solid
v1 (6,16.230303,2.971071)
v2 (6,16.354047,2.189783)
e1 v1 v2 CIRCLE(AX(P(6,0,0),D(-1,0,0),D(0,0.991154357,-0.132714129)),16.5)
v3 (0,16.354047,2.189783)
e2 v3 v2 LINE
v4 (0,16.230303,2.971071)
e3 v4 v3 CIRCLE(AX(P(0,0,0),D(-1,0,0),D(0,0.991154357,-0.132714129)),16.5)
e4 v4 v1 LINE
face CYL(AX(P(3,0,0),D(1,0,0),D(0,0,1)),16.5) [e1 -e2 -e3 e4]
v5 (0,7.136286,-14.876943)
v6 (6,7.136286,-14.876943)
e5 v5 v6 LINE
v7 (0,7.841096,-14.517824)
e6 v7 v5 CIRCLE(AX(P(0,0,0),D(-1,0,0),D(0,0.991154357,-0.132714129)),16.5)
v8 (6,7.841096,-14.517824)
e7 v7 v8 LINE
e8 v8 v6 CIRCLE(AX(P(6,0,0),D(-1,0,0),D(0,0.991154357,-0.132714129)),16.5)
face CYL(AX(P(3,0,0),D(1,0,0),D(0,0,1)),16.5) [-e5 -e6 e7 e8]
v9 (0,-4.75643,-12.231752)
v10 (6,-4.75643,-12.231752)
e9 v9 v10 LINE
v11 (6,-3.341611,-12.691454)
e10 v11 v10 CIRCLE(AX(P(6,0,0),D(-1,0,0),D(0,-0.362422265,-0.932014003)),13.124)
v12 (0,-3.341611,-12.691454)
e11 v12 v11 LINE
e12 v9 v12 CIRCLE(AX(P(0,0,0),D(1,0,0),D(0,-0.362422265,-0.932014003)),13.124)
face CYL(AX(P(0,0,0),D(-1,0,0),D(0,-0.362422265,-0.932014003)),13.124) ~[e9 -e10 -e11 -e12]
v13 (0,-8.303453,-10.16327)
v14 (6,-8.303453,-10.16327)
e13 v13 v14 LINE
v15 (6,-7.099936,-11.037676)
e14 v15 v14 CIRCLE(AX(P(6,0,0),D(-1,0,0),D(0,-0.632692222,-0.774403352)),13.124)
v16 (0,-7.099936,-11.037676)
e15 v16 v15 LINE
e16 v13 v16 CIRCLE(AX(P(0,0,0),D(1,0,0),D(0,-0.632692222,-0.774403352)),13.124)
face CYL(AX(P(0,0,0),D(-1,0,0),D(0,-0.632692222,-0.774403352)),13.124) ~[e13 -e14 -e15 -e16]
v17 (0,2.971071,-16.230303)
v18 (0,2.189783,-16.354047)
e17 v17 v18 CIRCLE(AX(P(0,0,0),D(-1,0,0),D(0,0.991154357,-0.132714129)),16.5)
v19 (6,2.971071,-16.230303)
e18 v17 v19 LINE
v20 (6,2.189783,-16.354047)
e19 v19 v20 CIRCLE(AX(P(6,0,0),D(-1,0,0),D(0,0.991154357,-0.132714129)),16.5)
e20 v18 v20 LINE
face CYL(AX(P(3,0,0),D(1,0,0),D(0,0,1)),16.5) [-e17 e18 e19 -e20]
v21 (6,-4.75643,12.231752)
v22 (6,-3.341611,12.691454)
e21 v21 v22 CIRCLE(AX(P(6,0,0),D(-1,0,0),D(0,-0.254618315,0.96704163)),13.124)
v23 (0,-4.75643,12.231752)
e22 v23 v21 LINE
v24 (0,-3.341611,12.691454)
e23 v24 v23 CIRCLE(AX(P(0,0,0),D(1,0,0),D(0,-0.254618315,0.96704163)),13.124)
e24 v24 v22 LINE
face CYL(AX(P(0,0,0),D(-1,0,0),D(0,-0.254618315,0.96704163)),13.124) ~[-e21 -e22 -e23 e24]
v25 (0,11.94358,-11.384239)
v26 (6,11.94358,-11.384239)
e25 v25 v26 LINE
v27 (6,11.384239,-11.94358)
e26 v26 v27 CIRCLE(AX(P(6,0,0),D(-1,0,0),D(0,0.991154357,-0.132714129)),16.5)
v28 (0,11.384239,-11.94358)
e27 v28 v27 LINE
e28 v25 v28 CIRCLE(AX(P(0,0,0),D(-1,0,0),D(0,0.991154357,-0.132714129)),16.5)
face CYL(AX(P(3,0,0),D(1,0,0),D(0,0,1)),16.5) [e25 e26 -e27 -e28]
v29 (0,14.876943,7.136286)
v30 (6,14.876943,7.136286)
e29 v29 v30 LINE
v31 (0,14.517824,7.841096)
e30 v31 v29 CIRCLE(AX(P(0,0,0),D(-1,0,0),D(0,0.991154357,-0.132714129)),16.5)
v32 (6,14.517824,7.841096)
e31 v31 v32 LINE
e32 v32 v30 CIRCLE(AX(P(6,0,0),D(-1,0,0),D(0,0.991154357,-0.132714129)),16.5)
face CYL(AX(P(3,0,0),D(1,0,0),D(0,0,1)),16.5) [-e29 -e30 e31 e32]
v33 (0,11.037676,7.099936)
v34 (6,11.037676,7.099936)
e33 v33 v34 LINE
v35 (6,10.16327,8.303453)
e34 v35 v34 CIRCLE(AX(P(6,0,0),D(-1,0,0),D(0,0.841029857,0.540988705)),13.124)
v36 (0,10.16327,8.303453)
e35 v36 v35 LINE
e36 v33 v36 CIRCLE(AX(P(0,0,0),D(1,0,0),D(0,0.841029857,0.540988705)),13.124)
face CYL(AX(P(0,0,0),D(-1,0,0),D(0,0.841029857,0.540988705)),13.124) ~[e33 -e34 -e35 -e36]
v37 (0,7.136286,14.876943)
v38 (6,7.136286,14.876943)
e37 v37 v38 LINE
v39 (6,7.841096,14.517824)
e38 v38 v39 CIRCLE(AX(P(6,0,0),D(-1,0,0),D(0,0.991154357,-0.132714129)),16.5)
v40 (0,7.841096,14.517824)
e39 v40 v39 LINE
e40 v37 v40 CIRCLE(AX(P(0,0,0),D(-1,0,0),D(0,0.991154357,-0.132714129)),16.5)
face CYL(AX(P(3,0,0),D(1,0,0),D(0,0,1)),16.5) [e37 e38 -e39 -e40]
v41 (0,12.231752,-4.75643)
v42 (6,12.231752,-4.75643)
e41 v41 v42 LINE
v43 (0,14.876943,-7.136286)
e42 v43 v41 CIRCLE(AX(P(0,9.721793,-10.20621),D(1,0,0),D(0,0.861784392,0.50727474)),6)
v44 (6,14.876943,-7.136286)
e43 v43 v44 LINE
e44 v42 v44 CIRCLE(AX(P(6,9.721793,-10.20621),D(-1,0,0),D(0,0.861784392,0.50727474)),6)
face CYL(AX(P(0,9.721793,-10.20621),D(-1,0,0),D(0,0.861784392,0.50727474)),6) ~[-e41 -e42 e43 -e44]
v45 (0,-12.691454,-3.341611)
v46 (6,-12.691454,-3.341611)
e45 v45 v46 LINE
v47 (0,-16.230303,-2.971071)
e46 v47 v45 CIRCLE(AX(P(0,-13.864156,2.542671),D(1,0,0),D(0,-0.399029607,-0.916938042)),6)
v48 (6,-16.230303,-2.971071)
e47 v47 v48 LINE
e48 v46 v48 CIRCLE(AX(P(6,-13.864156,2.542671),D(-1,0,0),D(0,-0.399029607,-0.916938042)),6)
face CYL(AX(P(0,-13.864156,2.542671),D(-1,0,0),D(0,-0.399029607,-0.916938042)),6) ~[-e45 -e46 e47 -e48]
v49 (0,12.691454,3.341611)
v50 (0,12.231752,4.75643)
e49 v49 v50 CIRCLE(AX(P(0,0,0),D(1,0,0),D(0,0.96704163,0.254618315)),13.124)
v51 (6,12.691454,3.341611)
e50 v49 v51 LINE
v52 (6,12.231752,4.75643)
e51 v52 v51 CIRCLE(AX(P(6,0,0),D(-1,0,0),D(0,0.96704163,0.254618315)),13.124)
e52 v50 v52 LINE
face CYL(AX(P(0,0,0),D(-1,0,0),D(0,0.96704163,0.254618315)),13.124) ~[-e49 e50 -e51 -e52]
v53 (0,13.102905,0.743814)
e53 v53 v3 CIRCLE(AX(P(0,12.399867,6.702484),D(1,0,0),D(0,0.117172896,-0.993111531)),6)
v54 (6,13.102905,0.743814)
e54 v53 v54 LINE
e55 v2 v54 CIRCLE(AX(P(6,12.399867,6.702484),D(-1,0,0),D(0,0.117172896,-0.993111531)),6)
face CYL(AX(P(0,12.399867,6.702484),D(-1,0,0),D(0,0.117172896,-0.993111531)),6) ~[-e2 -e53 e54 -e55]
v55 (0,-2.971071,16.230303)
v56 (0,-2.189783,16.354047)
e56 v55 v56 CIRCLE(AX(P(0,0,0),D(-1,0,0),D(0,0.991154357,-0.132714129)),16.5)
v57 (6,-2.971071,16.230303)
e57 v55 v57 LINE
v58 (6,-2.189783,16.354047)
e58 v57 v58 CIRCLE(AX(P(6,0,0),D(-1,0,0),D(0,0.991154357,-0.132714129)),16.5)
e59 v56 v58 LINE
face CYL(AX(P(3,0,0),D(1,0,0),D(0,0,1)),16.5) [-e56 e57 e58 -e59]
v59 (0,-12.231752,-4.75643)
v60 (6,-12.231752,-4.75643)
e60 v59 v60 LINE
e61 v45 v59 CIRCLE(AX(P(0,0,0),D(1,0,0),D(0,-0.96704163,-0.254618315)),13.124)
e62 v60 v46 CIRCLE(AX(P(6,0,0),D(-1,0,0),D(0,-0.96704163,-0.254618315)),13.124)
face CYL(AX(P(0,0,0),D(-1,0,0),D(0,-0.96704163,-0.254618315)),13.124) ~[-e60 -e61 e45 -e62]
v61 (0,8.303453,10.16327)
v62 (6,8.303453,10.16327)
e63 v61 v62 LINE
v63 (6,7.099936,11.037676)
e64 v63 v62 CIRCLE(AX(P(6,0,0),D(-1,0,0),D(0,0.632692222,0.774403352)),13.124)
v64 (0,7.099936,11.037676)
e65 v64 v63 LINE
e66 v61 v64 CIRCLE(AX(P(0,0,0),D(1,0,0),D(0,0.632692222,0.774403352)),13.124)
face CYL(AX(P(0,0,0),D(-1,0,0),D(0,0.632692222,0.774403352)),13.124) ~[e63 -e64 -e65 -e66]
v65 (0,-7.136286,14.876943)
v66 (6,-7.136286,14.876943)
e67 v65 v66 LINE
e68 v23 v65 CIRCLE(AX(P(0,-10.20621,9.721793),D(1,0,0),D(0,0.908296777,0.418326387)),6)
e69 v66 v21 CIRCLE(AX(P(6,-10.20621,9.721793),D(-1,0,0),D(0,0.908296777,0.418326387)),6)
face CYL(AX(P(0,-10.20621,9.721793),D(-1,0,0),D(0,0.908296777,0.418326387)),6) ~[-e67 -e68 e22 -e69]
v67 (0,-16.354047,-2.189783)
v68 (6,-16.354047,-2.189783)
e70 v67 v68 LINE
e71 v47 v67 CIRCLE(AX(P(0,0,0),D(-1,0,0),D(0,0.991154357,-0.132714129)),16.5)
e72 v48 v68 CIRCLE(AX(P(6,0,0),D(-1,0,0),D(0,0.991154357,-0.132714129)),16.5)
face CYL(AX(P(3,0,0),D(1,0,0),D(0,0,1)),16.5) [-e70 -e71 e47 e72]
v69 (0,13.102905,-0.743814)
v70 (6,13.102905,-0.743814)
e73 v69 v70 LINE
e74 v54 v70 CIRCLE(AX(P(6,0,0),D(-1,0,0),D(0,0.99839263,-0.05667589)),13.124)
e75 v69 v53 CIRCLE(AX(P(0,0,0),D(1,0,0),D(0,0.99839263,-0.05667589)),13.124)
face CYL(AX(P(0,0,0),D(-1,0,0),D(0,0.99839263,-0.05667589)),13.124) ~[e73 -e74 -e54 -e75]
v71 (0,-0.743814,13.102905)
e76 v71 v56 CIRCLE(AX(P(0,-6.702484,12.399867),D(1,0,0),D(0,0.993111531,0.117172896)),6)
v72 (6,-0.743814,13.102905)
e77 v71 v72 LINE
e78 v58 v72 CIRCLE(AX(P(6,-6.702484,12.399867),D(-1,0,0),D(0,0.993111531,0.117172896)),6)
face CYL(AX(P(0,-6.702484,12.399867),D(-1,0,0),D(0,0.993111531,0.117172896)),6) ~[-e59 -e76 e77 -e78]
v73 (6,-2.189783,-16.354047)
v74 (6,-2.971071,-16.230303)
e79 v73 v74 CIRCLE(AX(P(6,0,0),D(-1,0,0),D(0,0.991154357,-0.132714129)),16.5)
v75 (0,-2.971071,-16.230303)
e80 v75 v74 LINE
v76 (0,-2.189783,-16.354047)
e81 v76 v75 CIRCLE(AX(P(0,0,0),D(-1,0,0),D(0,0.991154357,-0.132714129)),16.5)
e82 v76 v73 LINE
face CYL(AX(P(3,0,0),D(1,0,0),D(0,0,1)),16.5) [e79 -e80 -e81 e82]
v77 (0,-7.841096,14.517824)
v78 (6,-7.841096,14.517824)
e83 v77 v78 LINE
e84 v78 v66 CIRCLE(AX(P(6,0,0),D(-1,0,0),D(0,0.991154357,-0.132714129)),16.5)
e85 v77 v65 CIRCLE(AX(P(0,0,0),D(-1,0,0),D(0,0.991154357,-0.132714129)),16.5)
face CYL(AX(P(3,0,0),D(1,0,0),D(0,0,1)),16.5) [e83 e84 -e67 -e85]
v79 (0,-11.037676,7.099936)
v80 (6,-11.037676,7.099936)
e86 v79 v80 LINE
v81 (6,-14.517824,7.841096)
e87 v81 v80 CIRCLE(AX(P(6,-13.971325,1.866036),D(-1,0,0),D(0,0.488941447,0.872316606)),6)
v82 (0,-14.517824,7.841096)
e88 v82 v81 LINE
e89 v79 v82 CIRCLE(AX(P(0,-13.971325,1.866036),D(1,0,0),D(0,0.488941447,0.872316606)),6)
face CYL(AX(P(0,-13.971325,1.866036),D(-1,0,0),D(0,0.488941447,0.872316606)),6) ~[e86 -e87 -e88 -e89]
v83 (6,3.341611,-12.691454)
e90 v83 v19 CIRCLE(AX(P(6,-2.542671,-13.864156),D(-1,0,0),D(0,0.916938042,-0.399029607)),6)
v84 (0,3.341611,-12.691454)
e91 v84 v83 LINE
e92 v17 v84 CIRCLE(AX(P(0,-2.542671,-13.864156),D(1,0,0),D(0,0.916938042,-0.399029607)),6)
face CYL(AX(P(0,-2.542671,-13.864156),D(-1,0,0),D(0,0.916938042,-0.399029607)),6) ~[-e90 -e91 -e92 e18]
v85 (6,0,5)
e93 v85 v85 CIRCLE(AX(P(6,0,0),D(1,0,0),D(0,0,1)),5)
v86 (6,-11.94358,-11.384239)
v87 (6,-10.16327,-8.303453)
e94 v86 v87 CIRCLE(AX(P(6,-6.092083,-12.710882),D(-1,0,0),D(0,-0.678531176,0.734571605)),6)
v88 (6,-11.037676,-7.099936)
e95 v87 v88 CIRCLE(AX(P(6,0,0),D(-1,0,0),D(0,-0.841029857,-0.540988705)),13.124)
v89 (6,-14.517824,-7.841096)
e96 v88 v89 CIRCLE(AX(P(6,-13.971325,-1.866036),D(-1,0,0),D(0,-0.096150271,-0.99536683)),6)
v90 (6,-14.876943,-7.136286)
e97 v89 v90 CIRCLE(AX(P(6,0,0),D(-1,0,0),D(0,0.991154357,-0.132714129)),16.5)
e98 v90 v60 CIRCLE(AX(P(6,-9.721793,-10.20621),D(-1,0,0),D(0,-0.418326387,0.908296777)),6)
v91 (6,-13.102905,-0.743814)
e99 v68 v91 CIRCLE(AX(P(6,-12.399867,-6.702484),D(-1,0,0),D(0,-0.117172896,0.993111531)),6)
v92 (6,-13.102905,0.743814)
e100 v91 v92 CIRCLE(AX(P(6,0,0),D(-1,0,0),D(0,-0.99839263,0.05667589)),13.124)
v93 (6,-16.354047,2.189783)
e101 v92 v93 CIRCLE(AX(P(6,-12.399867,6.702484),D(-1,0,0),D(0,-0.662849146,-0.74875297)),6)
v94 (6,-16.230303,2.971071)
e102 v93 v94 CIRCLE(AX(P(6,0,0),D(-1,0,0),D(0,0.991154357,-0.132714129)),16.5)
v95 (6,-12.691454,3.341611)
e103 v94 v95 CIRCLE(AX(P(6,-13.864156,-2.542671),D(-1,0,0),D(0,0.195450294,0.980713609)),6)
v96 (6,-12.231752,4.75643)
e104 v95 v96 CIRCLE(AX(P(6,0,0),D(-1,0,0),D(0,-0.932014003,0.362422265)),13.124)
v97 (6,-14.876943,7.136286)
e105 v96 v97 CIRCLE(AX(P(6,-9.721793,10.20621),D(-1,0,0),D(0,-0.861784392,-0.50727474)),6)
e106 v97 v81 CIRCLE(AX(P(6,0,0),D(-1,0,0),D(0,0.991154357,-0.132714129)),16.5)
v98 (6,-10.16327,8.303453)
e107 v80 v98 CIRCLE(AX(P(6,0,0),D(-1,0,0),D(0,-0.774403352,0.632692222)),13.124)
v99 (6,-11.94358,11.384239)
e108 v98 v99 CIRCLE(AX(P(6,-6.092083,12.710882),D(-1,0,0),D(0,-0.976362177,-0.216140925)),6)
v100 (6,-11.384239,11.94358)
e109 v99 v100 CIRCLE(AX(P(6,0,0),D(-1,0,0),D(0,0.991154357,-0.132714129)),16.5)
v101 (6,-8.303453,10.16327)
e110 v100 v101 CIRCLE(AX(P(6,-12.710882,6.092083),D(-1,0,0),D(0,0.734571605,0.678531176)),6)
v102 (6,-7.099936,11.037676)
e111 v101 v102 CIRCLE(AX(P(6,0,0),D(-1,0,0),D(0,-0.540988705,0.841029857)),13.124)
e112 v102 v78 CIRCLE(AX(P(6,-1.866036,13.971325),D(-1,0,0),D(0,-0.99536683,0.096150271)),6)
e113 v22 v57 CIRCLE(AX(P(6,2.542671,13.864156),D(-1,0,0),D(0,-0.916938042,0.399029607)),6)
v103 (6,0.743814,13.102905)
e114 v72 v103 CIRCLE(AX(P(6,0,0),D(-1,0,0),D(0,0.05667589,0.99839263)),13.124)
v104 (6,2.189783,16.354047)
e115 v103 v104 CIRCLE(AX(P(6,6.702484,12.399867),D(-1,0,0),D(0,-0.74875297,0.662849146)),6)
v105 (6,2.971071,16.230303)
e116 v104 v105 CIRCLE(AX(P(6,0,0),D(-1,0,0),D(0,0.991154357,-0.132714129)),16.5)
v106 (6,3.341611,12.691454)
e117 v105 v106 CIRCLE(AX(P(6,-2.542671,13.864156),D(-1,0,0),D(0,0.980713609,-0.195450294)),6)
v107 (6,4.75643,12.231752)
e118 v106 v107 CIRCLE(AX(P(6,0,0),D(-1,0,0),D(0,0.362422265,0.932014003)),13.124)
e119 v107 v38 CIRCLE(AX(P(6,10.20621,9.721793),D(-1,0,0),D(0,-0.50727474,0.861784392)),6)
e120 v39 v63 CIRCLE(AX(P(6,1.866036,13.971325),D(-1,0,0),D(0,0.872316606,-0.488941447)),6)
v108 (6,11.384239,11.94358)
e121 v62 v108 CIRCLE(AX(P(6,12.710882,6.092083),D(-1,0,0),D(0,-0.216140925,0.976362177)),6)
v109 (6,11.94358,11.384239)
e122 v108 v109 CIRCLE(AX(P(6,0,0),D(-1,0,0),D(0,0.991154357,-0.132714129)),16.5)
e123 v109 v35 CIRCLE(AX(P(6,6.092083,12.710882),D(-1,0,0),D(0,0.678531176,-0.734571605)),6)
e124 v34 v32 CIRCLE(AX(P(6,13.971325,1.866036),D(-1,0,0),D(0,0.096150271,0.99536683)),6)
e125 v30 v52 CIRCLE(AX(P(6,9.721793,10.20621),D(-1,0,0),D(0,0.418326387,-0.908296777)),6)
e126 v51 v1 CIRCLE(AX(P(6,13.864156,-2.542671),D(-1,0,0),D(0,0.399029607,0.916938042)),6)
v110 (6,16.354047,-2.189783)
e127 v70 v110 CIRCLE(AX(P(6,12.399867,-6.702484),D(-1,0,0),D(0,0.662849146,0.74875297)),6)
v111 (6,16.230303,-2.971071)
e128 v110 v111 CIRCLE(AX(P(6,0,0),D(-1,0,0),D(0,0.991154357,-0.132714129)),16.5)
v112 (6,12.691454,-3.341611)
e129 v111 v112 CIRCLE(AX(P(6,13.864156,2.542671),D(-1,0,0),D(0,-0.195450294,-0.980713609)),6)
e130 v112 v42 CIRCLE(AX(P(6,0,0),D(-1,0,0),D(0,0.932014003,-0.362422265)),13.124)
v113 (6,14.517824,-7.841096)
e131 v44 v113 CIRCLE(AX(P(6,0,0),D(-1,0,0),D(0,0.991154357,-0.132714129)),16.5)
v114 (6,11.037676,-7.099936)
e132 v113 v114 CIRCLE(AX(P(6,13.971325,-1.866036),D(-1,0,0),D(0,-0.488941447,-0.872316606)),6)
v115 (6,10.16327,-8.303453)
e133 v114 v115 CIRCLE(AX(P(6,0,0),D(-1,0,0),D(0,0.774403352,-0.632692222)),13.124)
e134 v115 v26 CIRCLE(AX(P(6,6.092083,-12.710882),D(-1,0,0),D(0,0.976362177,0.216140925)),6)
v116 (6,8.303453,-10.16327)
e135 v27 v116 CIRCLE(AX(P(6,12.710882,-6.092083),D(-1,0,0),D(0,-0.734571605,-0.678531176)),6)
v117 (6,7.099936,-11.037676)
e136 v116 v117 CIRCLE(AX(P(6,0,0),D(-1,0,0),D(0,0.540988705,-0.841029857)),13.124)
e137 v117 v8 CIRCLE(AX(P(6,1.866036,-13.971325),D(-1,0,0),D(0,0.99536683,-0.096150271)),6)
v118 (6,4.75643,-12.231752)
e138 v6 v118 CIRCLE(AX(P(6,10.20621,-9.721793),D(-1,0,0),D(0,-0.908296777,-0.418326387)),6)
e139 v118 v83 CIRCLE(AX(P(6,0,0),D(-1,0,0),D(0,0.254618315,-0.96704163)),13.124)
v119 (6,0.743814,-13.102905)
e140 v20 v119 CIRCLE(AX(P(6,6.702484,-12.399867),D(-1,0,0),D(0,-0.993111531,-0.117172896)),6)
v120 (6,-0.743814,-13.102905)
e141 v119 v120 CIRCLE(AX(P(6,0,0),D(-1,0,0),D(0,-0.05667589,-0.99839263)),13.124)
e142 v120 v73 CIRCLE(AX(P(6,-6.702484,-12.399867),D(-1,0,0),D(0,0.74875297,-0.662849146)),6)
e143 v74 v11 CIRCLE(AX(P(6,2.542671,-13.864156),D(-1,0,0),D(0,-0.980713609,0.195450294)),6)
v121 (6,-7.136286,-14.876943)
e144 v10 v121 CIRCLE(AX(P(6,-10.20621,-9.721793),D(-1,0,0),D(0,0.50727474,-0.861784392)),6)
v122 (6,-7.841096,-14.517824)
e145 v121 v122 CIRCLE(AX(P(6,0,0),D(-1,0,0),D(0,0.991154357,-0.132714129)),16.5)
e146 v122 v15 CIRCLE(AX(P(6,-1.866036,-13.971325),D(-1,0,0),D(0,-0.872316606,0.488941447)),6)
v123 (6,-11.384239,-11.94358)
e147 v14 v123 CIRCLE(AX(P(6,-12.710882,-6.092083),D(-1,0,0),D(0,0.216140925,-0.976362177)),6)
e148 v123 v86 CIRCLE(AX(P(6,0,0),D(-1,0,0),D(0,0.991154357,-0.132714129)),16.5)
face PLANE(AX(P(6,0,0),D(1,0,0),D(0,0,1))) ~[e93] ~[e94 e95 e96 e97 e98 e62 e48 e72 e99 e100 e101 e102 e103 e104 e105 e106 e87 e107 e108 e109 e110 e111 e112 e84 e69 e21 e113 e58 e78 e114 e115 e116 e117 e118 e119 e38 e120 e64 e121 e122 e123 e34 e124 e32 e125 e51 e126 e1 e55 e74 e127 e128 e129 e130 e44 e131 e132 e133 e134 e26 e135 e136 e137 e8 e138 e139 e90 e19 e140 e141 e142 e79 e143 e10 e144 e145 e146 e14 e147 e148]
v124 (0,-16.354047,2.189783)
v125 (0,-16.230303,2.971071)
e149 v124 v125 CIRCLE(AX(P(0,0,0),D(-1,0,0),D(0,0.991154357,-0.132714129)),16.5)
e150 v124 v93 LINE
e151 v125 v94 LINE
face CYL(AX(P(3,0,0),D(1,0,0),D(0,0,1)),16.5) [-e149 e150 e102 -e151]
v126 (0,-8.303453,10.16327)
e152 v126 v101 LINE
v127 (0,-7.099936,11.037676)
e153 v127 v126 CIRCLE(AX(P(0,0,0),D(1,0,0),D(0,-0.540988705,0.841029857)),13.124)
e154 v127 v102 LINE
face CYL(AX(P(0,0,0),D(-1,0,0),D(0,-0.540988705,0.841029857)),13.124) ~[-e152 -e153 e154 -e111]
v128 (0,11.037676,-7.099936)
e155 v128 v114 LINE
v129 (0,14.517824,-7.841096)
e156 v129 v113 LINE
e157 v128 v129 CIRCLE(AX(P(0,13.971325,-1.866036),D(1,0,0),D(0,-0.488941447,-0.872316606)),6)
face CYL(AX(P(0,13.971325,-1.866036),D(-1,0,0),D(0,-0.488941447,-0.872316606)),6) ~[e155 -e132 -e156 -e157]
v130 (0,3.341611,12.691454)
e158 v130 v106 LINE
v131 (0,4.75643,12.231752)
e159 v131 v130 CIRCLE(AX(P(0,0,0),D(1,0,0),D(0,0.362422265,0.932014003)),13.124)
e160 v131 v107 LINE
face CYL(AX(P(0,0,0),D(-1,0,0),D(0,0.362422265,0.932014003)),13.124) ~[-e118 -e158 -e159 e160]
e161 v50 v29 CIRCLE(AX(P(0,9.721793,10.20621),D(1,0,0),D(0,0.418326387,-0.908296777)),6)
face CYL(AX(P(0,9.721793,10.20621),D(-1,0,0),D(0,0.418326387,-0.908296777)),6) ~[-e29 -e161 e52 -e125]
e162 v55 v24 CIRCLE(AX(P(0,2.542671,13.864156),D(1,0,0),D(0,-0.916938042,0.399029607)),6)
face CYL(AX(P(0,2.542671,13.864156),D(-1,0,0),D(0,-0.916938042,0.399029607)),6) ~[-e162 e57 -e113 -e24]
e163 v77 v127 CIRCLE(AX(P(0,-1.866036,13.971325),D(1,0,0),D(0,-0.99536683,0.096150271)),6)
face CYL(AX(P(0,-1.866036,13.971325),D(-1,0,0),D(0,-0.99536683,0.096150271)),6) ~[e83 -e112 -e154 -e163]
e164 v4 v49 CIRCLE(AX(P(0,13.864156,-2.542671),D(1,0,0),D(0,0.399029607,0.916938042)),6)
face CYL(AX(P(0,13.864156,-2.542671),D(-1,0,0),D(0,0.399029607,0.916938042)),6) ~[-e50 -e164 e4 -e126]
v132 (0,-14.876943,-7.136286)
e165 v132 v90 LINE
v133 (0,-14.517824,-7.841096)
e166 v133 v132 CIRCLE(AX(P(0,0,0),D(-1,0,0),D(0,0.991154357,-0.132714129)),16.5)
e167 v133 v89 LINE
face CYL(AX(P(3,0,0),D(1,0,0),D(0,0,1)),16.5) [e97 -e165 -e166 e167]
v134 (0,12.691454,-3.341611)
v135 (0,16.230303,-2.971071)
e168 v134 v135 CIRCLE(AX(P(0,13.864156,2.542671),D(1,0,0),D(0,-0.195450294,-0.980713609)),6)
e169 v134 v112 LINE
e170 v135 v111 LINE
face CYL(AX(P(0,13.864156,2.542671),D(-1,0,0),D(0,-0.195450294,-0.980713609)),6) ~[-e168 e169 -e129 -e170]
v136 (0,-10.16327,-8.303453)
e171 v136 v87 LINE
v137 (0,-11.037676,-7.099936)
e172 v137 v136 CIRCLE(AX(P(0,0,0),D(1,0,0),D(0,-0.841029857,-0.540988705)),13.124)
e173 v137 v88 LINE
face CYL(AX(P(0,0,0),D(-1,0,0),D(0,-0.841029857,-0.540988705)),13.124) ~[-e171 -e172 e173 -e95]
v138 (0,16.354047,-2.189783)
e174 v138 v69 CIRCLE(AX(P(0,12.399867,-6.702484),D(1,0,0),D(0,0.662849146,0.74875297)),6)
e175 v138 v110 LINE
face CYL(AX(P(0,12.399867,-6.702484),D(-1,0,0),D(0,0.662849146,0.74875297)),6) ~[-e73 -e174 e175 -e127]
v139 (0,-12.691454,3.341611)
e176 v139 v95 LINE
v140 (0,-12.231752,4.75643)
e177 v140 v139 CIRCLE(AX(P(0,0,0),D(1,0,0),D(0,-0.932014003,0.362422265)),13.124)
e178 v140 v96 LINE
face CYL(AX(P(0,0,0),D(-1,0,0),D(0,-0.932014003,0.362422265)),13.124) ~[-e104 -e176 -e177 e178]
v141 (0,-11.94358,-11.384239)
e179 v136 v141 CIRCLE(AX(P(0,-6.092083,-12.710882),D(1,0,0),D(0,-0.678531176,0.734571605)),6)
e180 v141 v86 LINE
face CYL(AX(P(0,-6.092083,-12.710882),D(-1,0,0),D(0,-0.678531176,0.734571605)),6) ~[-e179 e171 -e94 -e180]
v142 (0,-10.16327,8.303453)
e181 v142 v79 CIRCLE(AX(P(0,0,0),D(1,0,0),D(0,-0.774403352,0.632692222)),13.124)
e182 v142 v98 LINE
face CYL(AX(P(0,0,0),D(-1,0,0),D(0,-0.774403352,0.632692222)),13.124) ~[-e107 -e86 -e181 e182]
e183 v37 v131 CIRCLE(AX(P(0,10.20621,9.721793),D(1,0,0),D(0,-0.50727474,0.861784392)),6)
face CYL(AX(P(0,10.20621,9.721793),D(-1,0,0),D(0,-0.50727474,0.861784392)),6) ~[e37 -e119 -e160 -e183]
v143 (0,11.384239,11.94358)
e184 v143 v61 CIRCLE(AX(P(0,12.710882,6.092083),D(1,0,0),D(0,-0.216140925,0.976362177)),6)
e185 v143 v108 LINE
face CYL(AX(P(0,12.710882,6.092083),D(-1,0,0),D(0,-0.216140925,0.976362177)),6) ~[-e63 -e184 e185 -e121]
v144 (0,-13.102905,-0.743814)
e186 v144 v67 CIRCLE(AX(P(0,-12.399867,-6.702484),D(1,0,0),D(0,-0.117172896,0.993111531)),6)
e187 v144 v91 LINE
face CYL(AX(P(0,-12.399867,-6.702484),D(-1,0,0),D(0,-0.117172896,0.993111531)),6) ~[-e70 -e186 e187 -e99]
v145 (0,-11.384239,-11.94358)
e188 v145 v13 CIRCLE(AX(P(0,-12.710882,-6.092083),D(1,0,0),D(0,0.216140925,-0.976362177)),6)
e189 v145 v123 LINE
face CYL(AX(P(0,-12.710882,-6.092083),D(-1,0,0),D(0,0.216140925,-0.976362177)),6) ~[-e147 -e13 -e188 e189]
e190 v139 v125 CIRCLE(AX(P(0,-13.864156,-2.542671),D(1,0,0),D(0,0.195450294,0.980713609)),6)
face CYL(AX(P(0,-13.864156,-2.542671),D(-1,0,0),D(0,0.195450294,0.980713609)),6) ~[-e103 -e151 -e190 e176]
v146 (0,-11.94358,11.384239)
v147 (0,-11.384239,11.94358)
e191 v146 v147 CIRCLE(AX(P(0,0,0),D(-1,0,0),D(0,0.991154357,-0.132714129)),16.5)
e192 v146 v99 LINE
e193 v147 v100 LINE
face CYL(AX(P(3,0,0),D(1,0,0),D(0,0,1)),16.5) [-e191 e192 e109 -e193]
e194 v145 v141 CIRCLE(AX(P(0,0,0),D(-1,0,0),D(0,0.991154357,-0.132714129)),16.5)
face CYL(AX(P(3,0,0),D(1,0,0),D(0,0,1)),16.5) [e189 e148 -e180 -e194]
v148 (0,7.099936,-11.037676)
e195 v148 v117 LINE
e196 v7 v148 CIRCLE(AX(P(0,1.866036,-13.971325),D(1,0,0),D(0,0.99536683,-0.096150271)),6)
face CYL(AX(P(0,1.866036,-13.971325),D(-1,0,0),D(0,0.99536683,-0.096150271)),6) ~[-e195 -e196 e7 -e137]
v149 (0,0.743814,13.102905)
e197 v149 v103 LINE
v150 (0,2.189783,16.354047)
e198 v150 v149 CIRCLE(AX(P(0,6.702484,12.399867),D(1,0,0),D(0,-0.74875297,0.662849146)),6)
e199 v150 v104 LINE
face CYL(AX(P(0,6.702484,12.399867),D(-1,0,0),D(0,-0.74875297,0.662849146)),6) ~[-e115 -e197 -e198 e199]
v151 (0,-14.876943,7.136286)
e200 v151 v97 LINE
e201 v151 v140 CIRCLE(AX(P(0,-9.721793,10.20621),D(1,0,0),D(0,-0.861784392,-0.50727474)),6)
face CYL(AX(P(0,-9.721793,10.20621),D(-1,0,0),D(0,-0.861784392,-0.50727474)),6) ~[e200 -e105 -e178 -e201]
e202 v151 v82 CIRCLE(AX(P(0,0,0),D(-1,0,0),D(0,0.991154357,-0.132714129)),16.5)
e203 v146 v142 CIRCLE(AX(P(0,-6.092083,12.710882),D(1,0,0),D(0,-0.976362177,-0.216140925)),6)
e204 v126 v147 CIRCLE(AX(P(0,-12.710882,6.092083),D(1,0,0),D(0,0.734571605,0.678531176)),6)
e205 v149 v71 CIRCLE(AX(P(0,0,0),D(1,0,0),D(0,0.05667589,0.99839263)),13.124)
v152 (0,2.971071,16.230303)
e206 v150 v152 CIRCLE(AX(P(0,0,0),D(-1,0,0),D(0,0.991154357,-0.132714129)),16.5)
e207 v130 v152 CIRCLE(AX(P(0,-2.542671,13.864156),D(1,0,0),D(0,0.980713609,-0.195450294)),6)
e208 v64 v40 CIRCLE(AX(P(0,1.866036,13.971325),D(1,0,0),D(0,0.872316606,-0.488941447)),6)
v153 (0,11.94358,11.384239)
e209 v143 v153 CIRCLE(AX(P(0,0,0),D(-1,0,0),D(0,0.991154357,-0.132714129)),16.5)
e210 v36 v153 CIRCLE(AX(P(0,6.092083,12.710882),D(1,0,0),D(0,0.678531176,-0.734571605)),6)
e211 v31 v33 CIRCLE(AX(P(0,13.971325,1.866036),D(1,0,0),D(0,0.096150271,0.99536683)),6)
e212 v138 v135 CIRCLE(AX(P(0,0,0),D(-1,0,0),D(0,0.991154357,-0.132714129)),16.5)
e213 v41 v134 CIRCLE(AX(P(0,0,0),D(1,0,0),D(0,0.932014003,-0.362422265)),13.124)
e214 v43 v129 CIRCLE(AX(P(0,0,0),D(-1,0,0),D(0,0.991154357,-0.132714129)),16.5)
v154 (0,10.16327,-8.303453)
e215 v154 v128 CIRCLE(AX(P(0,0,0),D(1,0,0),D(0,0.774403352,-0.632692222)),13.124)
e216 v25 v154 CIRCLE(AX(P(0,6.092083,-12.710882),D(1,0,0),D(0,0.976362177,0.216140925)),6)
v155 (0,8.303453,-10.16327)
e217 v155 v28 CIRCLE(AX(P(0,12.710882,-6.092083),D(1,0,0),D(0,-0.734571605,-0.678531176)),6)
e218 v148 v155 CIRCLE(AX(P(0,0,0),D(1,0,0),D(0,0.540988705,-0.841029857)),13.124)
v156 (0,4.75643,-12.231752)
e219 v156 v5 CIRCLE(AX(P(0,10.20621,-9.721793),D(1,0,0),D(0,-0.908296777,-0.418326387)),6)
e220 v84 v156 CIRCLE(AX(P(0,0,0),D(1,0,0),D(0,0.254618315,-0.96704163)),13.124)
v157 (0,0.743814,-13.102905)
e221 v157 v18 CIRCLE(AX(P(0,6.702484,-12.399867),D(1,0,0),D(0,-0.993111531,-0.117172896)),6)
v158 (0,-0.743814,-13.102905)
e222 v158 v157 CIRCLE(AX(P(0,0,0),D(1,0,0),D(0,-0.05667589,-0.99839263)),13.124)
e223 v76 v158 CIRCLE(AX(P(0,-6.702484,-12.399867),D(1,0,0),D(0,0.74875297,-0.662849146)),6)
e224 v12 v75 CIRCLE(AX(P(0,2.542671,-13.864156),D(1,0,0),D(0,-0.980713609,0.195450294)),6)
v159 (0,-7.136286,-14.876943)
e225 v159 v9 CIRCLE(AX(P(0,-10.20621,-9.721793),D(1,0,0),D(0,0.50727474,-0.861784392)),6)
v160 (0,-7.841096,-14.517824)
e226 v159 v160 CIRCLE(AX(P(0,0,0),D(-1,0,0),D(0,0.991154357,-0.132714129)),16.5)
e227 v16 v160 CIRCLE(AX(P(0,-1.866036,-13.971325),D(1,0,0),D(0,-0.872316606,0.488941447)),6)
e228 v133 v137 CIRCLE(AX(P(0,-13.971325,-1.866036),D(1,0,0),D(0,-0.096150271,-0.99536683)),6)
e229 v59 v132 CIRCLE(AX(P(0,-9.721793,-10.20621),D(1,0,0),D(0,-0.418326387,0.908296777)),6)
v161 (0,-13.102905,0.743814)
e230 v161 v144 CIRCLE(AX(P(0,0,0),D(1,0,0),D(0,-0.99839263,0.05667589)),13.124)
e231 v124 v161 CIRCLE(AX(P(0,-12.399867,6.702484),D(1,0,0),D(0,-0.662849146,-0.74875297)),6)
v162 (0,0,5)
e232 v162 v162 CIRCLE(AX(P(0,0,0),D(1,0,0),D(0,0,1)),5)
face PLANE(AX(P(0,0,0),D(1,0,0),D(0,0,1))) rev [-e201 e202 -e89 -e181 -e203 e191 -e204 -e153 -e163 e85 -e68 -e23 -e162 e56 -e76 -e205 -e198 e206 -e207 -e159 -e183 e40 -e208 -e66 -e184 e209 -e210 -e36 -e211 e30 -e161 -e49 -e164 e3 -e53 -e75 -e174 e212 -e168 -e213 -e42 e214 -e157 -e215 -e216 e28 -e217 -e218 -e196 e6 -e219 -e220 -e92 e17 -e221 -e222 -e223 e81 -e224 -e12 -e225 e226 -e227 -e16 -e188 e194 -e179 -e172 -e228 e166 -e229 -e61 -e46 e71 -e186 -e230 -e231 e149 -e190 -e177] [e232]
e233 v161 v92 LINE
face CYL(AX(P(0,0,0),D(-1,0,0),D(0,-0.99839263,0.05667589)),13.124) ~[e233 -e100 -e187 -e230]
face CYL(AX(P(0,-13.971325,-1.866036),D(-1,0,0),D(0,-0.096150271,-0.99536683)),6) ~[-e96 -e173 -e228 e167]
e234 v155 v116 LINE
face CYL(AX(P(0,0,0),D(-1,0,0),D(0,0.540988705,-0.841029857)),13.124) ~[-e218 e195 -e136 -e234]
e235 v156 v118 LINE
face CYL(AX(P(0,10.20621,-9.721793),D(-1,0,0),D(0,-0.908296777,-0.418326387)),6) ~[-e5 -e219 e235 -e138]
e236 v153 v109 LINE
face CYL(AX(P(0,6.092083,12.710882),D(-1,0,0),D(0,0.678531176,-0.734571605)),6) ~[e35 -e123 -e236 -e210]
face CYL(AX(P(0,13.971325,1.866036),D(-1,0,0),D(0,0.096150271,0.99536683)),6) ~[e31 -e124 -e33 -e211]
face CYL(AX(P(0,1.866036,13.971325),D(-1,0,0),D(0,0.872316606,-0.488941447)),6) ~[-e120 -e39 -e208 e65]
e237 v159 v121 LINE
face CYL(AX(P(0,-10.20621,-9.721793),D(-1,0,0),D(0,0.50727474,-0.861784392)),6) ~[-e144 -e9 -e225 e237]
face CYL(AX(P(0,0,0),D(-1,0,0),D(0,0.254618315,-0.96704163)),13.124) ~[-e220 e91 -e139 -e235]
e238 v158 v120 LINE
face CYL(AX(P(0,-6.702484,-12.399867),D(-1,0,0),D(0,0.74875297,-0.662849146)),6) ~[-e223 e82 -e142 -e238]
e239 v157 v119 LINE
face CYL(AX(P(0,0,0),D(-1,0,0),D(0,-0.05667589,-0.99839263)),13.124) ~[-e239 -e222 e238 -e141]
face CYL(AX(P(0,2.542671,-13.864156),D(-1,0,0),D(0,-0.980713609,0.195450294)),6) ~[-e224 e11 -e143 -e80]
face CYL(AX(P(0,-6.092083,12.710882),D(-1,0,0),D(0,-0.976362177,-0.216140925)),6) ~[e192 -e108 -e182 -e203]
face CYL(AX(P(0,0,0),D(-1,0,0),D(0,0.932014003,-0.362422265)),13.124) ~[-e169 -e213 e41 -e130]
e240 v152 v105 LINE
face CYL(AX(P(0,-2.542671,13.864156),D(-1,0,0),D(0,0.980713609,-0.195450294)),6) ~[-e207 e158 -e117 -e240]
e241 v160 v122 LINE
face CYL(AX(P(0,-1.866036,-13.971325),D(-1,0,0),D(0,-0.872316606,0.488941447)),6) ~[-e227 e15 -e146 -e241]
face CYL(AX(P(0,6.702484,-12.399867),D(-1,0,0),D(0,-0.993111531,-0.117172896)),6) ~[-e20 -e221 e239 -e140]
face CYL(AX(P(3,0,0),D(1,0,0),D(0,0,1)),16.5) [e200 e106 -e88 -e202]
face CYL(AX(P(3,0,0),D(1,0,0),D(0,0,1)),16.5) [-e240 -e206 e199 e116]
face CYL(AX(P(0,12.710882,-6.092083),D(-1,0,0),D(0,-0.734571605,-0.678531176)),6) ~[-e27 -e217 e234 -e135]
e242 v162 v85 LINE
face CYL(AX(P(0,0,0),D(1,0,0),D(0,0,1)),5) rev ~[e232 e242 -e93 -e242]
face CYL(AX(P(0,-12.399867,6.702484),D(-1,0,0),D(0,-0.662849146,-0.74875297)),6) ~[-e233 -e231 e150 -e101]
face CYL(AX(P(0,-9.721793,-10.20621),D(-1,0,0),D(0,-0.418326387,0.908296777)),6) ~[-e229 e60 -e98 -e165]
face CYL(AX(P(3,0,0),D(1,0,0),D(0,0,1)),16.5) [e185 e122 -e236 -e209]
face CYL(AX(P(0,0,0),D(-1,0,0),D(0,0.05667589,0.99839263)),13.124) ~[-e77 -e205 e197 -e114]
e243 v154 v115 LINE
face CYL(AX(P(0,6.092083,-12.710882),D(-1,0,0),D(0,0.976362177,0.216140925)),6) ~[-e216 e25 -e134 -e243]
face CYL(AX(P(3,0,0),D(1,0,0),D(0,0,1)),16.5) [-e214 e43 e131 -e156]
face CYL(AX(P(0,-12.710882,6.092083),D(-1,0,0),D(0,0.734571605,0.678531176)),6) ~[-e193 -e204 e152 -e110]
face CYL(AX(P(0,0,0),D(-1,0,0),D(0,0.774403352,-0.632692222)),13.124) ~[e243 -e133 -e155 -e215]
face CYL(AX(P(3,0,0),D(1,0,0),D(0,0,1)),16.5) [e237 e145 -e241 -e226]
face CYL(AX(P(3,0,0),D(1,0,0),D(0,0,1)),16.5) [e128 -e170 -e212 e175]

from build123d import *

# Parameters (mm, degrees)
BASPROSKE_W     = 6
BASPROSKE_H     = 16.5
TOOTHCUT_DEPTH  = 25.093567606
TEETHCUTS_COUNT = 20
TEETHCUTS_ANGLE = 342
BORSKE_R        = 5
BORE_DEPTH      = 50.0000508


with BuildPart() as part:
    # BasProSke → Base-Revolve (revolve)
    with BuildSketch(Plane(origin=(0, 0, 0), x_dir=(1, 0, 0), z_dir=(0, 1, 0)), mode=Mode.PRIVATE) as base_revolve_sk:
        with Locations((3, 8.25)):
            Rectangle(BASPROSKE_W, BASPROSKE_H)
    revolve(base_revolve_sk.sketch.rotate(Axis((-10, 0, 0), (1, 0, 0)), 180), axis=Axis((-10, 0, 0), (1, 0, 0)))

    # TooCutSke → ToothCut (cut, through all)
    with BuildSketch(Plane(origin=(0, 0, 0), x_dir=(0, 0, -1), z_dir=(1, 0, 0))):
        with BuildLine():
            ThreePointArc((0.74381438, 13.102904875), (0, 13.124), (-0.74381438, 13.102904875))
            ThreePointArc((-0.74381438, 13.102904875), (-1.226473103, 14.852072512), (-2.209965745, 16.376962373))
            ThreePointArc((-2.209965745, 16.376962373), (0, 16.5254), (2.209965745, 16.376962373))
            ThreePointArc((2.209965745, 16.376962373), (1.226473103, 14.852072512), (0.74381438, 13.102904875))
        make_face()
    toothcut = extrude(amount=TOOTHCUT_DEPTH, mode=Mode.SUBTRACT)

    # TeethCuts: ToothCut ×20 about axis
    teethcuts_axis = Axis((-10, 0, 0), (1, 0, 0))
    for i in range(1, TEETHCUTS_COUNT):
        add(toothcut.rotate(teethcuts_axis, i * TEETHCUTS_ANGLE / (TEETHCUTS_COUNT - 1)), mode=Mode.SUBTRACT)

    # BorSke → Bore (cut, symmetric)
    with BuildSketch(Plane(origin=(0, 0, 0), x_dir=(0, 0, -1), z_dir=(1, 0, 0))):
        with Locations(Location((0, 0, 0), (0, 0, 180))):
            Circle(BORSKE_R)
    extrude(amount=BORE_DEPTH, both=True, mode=Mode.SUBTRACT)


solid = part.part
